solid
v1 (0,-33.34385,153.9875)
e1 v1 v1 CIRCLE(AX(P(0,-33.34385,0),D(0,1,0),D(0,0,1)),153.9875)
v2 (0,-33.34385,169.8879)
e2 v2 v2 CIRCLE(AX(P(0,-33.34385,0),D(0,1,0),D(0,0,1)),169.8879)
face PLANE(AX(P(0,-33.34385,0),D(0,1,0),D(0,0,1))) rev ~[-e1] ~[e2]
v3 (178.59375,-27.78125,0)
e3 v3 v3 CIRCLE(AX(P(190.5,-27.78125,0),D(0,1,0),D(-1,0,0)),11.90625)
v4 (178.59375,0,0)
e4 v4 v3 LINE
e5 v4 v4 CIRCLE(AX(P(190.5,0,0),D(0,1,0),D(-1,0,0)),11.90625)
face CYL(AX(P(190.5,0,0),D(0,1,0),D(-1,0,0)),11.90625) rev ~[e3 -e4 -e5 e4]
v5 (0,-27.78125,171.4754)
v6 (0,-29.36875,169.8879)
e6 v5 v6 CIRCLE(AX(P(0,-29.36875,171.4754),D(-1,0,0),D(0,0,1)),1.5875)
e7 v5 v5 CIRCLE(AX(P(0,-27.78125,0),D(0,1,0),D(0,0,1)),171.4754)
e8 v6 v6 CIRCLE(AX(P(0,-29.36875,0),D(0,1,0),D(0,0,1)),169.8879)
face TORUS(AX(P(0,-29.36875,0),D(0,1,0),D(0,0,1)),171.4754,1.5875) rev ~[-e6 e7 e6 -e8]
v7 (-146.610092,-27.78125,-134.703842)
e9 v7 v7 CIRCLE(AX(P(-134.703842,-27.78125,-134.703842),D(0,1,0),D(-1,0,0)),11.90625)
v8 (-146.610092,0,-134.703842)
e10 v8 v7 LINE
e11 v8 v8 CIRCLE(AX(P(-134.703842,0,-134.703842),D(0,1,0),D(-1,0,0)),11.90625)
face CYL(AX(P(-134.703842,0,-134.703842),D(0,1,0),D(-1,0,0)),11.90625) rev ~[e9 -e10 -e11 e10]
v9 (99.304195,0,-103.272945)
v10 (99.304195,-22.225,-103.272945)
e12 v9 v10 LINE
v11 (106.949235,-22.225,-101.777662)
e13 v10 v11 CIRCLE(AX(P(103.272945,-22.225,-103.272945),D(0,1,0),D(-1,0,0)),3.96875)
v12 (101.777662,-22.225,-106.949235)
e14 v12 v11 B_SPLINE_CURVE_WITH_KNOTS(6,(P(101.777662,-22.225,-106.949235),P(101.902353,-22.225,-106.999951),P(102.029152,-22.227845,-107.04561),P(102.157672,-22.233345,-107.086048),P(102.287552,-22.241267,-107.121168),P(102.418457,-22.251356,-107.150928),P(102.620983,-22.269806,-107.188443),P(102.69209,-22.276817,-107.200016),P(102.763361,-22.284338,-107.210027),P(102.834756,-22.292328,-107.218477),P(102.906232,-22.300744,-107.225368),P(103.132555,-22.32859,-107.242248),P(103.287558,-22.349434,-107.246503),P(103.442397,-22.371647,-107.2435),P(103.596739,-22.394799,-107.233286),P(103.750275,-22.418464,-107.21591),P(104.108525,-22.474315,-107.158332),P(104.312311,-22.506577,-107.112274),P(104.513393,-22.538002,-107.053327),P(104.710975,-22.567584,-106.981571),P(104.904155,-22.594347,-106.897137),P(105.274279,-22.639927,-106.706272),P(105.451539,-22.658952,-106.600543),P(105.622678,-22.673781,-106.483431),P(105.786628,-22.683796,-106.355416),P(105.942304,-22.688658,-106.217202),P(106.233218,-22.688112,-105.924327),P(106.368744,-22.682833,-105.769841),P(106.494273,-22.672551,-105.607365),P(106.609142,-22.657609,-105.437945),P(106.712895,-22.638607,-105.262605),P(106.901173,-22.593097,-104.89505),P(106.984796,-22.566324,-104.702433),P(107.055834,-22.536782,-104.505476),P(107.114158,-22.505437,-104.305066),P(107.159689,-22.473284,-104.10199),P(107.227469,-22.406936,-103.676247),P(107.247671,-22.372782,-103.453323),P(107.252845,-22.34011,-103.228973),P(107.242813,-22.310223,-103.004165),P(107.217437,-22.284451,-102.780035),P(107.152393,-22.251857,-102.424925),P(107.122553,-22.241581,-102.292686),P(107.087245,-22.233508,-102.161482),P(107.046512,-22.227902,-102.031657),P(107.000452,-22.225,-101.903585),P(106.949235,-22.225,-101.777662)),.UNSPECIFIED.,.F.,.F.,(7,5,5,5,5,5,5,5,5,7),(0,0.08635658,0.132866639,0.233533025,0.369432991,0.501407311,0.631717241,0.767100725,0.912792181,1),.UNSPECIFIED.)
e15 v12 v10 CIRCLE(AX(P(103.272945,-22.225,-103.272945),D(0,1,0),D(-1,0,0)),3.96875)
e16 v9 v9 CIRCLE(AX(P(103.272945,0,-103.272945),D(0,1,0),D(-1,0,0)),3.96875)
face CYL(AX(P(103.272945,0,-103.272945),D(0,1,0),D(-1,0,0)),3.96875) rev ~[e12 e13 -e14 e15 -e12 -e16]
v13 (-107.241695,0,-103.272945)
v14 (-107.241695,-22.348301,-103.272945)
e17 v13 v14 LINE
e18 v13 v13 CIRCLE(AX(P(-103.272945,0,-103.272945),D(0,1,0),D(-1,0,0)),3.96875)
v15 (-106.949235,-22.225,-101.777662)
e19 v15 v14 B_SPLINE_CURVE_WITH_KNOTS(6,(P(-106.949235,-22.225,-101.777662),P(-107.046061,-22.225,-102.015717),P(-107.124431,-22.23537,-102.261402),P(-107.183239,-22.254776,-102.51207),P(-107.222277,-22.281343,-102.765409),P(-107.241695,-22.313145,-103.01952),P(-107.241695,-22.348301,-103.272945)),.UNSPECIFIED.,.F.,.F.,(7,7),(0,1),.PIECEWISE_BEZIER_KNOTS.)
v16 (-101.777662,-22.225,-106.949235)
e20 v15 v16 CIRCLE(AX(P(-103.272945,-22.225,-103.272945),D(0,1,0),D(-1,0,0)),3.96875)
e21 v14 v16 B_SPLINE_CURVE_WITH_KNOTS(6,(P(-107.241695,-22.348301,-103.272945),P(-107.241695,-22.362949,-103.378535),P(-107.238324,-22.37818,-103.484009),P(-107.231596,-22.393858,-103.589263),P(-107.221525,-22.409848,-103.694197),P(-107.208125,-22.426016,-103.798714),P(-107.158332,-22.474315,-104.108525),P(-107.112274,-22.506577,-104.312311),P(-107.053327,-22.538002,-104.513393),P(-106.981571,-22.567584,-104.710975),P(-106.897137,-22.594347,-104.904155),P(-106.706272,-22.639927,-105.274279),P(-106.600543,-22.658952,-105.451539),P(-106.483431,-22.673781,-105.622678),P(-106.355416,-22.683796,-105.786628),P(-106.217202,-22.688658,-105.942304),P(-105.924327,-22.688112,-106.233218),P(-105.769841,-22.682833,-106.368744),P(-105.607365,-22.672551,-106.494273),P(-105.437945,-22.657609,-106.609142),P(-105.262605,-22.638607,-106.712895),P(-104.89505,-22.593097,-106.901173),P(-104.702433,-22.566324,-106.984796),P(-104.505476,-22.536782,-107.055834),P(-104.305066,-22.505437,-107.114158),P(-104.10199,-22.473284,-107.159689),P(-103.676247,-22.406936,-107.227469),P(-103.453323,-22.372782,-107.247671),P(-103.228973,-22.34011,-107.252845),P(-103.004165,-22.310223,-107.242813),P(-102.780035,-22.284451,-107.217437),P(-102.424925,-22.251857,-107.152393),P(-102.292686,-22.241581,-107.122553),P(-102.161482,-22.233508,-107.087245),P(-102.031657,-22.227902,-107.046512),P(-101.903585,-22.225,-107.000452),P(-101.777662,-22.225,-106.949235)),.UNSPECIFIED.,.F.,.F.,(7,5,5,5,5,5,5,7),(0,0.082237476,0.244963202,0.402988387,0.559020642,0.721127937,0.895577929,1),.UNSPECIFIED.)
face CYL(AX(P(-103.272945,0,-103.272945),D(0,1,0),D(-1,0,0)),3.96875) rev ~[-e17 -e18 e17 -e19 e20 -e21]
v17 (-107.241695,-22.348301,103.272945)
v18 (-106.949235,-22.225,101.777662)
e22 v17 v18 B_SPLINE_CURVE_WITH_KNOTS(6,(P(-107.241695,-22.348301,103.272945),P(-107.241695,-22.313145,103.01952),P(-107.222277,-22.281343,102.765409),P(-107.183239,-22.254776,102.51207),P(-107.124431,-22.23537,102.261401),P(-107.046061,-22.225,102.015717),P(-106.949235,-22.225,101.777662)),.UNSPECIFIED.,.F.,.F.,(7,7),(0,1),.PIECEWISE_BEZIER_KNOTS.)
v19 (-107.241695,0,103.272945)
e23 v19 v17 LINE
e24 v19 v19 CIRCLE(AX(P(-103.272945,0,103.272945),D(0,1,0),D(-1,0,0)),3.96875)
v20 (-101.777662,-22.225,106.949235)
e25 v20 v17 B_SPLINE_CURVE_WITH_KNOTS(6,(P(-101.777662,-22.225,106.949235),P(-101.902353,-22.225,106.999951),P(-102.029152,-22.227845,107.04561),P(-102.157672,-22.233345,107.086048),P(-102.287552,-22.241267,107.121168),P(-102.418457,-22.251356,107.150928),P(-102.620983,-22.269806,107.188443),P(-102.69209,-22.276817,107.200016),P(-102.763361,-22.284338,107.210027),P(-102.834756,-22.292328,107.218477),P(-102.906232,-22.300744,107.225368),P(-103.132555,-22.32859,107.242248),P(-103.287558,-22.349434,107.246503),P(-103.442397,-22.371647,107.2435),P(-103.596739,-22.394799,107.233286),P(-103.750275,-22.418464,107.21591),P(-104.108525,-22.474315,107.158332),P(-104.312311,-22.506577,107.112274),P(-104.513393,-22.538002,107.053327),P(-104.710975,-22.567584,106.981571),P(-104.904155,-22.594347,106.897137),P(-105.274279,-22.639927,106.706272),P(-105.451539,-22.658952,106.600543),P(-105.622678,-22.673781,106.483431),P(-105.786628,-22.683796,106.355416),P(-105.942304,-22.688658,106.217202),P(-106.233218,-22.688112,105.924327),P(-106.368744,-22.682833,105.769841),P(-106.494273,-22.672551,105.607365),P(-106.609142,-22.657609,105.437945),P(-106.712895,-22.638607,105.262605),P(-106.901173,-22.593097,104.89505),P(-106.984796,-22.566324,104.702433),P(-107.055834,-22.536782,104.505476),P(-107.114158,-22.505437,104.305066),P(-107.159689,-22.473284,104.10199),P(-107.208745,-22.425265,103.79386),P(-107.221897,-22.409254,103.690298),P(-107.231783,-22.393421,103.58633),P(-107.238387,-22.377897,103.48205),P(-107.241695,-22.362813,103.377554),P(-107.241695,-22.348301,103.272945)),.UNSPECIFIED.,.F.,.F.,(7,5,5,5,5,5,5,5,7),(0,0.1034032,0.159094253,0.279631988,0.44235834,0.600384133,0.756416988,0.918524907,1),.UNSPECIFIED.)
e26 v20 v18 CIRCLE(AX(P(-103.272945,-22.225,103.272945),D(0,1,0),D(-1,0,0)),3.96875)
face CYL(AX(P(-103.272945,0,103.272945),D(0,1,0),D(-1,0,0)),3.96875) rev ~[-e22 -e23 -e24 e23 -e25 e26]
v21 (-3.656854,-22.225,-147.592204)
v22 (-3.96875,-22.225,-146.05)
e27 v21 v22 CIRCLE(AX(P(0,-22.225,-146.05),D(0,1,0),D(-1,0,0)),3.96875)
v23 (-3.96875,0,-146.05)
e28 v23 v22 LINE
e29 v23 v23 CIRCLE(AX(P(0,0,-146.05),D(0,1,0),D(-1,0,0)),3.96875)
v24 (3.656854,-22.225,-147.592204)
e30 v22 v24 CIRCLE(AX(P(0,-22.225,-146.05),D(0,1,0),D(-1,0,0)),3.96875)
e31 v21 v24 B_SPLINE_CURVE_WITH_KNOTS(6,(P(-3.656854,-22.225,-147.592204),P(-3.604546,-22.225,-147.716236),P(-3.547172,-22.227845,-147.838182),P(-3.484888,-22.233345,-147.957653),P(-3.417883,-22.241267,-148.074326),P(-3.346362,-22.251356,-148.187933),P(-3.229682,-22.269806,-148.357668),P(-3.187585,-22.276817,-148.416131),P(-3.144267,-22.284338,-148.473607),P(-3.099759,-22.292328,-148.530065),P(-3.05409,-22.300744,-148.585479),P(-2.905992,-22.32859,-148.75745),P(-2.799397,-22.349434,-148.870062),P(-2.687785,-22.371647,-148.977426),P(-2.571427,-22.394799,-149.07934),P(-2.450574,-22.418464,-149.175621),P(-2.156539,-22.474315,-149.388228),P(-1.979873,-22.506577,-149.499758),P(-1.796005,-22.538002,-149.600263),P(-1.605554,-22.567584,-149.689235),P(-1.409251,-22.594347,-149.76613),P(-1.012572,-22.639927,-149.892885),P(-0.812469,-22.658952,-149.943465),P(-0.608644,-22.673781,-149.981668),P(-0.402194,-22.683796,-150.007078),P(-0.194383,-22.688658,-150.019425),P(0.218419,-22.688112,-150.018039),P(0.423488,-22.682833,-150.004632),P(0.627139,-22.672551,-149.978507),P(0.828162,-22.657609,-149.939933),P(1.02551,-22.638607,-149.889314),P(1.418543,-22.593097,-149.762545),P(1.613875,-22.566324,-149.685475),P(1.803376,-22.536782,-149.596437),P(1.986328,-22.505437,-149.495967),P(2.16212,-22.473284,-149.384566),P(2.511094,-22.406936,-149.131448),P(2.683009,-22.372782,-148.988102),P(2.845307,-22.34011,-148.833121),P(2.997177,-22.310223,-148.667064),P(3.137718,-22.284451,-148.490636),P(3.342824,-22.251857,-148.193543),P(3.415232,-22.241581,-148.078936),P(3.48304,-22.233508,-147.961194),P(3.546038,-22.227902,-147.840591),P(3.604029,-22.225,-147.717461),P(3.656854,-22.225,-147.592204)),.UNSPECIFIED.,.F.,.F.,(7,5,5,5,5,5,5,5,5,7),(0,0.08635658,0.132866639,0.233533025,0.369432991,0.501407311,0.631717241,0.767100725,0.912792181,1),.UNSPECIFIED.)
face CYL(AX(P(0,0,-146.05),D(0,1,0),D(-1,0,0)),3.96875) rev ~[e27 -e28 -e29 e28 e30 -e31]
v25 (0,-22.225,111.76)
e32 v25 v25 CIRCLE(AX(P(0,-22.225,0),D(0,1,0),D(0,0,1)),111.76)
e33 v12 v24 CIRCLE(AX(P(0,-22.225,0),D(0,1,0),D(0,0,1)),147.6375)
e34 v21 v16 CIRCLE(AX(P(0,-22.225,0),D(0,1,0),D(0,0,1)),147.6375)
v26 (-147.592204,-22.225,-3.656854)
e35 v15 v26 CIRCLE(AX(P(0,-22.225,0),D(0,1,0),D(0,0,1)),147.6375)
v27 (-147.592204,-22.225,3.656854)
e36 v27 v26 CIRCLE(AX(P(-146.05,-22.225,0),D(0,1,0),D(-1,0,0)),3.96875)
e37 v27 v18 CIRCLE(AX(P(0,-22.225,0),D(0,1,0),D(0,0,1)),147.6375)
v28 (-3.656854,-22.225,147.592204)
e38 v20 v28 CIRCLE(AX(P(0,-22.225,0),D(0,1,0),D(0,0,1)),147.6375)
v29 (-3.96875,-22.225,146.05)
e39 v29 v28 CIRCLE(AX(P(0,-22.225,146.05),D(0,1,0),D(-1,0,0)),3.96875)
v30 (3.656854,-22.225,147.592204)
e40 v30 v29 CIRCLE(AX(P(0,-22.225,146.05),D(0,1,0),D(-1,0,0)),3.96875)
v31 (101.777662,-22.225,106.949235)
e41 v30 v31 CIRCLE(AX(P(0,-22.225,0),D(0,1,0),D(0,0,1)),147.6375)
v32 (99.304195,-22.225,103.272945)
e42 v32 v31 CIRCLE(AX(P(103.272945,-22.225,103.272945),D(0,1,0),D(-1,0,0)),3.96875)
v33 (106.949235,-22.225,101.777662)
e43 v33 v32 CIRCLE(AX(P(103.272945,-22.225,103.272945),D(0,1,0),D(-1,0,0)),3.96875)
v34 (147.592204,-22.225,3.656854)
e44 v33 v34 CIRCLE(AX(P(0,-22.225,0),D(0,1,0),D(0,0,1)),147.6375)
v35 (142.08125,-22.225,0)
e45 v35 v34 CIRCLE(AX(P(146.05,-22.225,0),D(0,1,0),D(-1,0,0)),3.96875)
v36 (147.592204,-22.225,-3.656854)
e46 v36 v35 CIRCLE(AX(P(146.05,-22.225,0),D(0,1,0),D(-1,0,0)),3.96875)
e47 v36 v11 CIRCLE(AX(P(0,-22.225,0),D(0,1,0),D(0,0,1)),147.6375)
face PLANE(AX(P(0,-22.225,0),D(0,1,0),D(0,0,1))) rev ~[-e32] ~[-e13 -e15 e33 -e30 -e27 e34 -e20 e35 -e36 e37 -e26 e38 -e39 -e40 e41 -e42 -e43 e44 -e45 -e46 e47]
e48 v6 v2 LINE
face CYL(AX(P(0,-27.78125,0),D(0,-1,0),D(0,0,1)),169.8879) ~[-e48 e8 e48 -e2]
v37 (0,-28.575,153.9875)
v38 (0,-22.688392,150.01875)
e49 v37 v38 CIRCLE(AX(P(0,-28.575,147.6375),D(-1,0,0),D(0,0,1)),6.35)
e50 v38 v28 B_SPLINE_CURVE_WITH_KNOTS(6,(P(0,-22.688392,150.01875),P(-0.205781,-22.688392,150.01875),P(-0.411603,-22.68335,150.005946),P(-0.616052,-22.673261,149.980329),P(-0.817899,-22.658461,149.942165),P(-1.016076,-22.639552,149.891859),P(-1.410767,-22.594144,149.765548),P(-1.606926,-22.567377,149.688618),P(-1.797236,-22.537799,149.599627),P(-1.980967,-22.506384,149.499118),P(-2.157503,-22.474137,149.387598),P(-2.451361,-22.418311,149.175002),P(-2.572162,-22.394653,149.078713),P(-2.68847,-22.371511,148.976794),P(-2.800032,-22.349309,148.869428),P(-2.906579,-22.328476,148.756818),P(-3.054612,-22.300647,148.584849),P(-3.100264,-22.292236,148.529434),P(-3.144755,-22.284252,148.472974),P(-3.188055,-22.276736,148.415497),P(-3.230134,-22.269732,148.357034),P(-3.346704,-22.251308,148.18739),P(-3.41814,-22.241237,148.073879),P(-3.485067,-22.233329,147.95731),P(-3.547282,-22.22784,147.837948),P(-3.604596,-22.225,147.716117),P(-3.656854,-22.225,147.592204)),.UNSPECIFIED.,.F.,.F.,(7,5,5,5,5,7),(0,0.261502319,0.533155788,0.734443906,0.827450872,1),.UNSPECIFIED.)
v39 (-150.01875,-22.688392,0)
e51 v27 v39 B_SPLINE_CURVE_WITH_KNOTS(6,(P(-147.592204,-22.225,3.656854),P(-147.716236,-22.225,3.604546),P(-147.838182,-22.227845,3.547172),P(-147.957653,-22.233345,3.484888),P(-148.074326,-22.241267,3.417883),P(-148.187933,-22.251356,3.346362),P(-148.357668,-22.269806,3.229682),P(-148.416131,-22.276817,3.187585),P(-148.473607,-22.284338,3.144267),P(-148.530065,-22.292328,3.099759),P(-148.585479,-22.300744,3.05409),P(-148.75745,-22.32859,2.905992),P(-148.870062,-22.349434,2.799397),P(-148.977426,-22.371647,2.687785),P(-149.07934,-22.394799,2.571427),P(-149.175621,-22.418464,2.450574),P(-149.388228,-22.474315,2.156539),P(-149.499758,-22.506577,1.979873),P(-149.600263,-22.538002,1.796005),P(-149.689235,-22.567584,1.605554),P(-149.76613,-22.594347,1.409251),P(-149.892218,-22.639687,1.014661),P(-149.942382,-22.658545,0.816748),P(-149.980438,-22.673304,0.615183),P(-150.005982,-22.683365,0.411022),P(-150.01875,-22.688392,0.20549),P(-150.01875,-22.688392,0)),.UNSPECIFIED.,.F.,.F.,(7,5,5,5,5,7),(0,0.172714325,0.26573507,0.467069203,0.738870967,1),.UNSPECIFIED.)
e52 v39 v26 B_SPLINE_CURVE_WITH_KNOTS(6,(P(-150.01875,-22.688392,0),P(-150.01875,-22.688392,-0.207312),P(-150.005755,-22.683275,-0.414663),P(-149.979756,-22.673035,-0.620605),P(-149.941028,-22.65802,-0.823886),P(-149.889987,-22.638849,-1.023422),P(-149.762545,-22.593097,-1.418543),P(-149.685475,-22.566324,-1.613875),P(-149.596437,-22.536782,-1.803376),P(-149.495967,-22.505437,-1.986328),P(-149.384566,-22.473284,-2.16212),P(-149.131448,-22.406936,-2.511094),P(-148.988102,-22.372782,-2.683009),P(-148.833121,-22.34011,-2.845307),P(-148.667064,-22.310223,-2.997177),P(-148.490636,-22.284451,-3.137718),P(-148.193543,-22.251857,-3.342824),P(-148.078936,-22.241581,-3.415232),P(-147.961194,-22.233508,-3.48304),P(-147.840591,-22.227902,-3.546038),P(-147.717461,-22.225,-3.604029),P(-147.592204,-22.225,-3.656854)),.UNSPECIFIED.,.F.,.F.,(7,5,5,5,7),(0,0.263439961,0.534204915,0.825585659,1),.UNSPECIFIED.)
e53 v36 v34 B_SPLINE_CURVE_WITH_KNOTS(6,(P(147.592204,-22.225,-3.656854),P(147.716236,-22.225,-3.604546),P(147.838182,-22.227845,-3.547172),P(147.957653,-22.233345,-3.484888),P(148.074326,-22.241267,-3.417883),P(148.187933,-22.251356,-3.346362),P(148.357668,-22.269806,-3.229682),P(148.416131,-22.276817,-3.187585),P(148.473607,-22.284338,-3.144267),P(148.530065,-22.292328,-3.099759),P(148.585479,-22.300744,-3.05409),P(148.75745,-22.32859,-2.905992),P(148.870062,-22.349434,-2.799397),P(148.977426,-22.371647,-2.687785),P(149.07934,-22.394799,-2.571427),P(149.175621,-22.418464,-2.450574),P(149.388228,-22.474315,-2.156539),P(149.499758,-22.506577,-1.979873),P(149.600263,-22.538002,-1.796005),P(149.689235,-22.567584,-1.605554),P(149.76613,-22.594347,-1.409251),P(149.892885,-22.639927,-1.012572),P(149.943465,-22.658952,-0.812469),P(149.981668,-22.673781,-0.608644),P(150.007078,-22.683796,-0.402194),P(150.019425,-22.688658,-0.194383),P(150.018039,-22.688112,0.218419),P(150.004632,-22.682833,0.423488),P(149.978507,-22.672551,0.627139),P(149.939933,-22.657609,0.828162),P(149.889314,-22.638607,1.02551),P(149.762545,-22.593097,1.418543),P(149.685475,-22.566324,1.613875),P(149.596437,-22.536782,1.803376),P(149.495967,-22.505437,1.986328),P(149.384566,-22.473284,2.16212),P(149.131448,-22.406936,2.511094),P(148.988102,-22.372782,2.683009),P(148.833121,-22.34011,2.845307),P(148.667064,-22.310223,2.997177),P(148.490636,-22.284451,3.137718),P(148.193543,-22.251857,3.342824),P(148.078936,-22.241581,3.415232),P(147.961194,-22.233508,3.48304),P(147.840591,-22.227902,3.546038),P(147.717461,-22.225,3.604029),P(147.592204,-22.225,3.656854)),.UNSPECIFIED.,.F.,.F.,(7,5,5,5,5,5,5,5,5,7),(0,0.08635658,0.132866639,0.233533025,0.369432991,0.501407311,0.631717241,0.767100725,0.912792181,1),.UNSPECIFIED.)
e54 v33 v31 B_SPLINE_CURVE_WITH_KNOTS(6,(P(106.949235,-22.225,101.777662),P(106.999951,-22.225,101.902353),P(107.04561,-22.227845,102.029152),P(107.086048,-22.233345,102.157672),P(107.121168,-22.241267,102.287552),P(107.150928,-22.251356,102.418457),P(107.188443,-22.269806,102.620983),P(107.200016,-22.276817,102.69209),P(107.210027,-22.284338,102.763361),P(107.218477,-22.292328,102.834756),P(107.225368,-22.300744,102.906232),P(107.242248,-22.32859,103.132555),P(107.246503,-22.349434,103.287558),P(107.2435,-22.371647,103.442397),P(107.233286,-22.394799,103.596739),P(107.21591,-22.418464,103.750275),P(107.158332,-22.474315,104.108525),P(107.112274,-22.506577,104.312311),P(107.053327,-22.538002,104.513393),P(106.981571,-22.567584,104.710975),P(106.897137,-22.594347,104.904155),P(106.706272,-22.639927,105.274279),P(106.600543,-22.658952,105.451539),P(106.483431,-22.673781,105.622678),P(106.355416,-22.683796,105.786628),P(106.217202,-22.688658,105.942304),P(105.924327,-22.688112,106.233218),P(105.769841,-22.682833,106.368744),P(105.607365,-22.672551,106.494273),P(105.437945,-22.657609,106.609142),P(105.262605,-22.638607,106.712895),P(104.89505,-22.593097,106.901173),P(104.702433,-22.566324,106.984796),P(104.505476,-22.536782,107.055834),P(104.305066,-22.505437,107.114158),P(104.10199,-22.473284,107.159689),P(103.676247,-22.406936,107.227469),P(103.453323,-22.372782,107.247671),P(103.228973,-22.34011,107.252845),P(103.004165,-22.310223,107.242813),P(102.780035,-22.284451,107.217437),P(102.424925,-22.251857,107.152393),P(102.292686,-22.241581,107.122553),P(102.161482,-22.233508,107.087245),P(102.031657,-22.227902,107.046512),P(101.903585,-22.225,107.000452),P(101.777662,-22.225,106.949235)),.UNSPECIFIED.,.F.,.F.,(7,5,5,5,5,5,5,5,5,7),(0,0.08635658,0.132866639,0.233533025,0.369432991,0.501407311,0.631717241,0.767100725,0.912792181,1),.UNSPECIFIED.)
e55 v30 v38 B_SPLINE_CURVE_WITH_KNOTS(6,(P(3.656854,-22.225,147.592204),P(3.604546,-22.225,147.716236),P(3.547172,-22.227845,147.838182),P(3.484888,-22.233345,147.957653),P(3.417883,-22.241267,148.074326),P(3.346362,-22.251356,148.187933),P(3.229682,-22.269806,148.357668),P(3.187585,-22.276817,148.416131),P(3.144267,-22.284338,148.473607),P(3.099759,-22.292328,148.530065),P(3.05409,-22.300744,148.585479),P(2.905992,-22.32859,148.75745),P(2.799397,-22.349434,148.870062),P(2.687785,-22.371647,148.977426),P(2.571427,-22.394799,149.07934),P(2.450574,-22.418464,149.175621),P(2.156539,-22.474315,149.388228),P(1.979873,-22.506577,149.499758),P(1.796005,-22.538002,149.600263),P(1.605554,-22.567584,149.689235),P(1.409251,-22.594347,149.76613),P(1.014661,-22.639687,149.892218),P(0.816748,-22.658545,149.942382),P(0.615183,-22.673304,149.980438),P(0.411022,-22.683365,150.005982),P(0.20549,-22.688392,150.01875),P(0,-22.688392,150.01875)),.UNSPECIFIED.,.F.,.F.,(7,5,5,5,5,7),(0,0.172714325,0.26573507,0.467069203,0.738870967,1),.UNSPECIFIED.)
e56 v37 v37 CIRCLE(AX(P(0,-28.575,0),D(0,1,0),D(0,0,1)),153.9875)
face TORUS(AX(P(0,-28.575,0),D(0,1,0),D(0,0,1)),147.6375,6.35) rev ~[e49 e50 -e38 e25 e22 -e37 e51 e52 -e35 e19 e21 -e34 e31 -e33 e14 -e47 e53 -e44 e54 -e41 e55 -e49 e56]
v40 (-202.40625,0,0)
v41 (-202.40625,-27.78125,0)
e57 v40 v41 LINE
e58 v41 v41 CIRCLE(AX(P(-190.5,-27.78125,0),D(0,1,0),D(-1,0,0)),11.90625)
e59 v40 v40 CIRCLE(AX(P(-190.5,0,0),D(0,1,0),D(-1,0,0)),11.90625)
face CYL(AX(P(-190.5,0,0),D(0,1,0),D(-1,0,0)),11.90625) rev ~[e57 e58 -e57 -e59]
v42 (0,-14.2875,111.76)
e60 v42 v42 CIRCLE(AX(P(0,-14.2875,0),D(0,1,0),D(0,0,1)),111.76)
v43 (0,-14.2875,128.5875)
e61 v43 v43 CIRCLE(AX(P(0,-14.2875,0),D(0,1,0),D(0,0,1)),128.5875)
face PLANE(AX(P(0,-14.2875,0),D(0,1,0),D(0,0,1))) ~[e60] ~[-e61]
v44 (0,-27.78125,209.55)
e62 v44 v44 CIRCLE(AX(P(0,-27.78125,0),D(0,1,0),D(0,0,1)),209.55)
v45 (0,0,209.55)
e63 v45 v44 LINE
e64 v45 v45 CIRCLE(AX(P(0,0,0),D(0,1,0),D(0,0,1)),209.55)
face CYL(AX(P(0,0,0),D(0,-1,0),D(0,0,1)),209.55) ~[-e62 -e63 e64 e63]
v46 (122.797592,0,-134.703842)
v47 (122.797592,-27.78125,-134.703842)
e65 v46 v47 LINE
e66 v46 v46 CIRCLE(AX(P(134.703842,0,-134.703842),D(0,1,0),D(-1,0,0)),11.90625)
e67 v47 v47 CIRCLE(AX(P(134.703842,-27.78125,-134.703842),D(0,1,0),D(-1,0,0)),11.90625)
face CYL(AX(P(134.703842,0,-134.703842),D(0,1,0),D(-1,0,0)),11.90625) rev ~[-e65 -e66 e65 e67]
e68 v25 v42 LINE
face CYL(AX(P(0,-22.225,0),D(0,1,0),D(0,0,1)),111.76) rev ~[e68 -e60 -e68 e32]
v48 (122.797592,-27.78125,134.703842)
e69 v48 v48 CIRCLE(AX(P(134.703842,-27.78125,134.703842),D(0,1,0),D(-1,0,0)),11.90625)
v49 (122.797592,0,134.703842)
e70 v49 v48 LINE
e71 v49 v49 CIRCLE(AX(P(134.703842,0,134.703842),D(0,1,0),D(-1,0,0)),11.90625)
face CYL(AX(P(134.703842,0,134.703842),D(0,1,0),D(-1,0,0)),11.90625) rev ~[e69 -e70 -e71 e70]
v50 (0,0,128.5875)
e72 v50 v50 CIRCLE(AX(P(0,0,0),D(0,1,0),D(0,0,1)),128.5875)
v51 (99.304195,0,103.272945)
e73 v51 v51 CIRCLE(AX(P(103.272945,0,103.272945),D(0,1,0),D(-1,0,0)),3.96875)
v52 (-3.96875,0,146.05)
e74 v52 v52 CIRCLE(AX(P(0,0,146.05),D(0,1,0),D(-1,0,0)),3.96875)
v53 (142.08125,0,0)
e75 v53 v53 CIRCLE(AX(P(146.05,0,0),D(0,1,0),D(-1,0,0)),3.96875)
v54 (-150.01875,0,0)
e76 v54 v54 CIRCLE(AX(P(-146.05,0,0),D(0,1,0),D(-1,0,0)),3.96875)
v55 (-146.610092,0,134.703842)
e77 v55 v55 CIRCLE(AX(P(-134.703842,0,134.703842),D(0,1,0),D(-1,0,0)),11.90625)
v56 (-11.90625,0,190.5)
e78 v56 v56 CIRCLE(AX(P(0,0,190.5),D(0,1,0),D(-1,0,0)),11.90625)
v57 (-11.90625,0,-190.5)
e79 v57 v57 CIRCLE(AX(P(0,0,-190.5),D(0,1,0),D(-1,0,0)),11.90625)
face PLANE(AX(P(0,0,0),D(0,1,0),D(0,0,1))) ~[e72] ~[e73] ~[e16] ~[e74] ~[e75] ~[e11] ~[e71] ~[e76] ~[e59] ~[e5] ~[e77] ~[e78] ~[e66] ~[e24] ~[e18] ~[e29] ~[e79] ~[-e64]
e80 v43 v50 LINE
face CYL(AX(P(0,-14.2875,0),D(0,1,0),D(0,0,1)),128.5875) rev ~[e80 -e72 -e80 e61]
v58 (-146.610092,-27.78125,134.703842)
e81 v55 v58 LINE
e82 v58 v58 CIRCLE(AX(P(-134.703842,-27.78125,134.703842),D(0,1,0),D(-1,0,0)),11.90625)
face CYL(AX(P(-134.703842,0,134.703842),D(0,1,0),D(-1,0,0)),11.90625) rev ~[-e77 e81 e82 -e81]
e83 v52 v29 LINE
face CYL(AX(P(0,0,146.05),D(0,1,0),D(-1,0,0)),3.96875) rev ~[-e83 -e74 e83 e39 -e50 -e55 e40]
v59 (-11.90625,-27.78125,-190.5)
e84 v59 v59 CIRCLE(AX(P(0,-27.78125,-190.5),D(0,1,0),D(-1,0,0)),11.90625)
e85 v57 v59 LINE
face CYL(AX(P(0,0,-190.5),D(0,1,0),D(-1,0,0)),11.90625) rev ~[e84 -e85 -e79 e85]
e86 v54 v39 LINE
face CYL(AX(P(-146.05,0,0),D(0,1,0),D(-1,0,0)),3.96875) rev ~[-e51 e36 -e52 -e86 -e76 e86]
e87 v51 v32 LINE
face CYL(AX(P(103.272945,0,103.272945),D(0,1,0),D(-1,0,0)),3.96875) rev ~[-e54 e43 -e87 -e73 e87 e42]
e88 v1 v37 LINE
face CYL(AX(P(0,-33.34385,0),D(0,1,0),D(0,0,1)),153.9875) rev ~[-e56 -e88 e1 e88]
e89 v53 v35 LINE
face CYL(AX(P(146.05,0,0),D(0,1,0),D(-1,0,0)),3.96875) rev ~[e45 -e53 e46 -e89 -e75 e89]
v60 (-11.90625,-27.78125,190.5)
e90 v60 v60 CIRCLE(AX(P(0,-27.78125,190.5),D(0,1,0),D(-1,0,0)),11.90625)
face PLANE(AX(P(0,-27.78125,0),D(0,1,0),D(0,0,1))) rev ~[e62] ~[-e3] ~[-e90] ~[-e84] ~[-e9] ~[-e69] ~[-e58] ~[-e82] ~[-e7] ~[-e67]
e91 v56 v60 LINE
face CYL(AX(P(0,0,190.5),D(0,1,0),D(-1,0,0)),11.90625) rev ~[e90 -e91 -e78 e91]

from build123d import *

# Parameters (mm, degrees)
F2_R     = 1.5875
F3_R     = 11.90625
F4_DEPTH = 27.78125
F5_R     = 3.96875
F6_DEPTH = 22.6893925511


with BuildPart() as f1:
    # F0 (on Right) → F1 (revolve)
    with BuildSketch(Plane.YZ):
        with BuildLine():
            Line((0, 128.5875), (0, 209.55))
            Line((0, 209.55), (-27.78125, 209.55))
            Line((-27.78125, 209.55), (-27.78125, 169.8879))
            Line((-27.78125, 169.8879), (-33.34385, 169.8879))
            Line((-33.34385, 169.8879), (-33.34385, 153.9875))
            Line((-33.34385, 153.9875), (-28.575, 153.9875))
            ThreePointArc((-28.575, 153.9875), (-24.0848719395, 152.1276280605), (-22.225, 147.6375))
            Line((-22.225, 147.6375), (-22.225, 111.76))
            Line((-22.225, 111.76), (-14.2875, 111.76))
            Line((-14.2875, 111.76), (-14.2875, 128.5875))
            Line((-14.2875, 128.5875), (0, 128.5875))
        make_face()
    revolve(axis=Axis((0, 90.567432344, 0), (0, 1, 0)))

    # F2
    f2_edges = [f1.edges().sort_by_distance(p)[0] for p in [
        (0, -27.78125, -169.8879),
    ]]
    fillet(f2_edges, radius=F2_R)

    # F3 (on face) → F4 (cut, through all)
    with BuildSketch(Plane(origin=(0, 0, 0), x_dir=(-1, 0, 0), z_dir=(0, 1, 0))):
        with Locations((0, 190.5)):
            Circle(F3_R)
        with Locations((-134.703841816, 134.703841816)):
            Circle(F3_R)
        with Locations((-190.5, 0)):
            Circle(F3_R)
        with Locations((-134.703841816, -134.703841816)):
            Circle(F3_R)
        with Locations((0, -190.5)):
            Circle(F3_R)
        with Locations((134.703841816, -134.703841816)):
            Circle(F3_R)
        with Locations((190.5, 0)):
            Circle(F3_R)
        with Locations((134.703841816, 134.703841816)):
            Circle(F3_R)
    extrude(amount=-F4_DEPTH, mode=Mode.SUBTRACT)

    # F5 (on face) → F6 (cut, through all)
    with BuildSketch(Plane(origin=(0, 0, 0), x_dir=(-1, 0, 0), z_dir=(0, 1, 0))):
        with Locations((0, 146.05)):
            Circle(F5_R)
        with Locations((-103.2729453923, 103.2729453923)):
            Circle(F5_R)
        with Locations((-146.05, 0)):
            Circle(F5_R)
        with Locations((-103.2729453923, -103.2729453923)):
            Circle(F5_R)
        with Locations((0, -146.05)):
            Circle(F5_R)
        with Locations((103.2729453923, -103.2729453923)):
            Circle(F5_R)
        with Locations((146.05, 0)):
            Circle(F5_R)
        with Locations((103.2729453923, 103.2729453923)):
            Circle(F5_R)
    extrude(amount=-F6_DEPTH, mode=Mode.SUBTRACT)


solid = f1.part
